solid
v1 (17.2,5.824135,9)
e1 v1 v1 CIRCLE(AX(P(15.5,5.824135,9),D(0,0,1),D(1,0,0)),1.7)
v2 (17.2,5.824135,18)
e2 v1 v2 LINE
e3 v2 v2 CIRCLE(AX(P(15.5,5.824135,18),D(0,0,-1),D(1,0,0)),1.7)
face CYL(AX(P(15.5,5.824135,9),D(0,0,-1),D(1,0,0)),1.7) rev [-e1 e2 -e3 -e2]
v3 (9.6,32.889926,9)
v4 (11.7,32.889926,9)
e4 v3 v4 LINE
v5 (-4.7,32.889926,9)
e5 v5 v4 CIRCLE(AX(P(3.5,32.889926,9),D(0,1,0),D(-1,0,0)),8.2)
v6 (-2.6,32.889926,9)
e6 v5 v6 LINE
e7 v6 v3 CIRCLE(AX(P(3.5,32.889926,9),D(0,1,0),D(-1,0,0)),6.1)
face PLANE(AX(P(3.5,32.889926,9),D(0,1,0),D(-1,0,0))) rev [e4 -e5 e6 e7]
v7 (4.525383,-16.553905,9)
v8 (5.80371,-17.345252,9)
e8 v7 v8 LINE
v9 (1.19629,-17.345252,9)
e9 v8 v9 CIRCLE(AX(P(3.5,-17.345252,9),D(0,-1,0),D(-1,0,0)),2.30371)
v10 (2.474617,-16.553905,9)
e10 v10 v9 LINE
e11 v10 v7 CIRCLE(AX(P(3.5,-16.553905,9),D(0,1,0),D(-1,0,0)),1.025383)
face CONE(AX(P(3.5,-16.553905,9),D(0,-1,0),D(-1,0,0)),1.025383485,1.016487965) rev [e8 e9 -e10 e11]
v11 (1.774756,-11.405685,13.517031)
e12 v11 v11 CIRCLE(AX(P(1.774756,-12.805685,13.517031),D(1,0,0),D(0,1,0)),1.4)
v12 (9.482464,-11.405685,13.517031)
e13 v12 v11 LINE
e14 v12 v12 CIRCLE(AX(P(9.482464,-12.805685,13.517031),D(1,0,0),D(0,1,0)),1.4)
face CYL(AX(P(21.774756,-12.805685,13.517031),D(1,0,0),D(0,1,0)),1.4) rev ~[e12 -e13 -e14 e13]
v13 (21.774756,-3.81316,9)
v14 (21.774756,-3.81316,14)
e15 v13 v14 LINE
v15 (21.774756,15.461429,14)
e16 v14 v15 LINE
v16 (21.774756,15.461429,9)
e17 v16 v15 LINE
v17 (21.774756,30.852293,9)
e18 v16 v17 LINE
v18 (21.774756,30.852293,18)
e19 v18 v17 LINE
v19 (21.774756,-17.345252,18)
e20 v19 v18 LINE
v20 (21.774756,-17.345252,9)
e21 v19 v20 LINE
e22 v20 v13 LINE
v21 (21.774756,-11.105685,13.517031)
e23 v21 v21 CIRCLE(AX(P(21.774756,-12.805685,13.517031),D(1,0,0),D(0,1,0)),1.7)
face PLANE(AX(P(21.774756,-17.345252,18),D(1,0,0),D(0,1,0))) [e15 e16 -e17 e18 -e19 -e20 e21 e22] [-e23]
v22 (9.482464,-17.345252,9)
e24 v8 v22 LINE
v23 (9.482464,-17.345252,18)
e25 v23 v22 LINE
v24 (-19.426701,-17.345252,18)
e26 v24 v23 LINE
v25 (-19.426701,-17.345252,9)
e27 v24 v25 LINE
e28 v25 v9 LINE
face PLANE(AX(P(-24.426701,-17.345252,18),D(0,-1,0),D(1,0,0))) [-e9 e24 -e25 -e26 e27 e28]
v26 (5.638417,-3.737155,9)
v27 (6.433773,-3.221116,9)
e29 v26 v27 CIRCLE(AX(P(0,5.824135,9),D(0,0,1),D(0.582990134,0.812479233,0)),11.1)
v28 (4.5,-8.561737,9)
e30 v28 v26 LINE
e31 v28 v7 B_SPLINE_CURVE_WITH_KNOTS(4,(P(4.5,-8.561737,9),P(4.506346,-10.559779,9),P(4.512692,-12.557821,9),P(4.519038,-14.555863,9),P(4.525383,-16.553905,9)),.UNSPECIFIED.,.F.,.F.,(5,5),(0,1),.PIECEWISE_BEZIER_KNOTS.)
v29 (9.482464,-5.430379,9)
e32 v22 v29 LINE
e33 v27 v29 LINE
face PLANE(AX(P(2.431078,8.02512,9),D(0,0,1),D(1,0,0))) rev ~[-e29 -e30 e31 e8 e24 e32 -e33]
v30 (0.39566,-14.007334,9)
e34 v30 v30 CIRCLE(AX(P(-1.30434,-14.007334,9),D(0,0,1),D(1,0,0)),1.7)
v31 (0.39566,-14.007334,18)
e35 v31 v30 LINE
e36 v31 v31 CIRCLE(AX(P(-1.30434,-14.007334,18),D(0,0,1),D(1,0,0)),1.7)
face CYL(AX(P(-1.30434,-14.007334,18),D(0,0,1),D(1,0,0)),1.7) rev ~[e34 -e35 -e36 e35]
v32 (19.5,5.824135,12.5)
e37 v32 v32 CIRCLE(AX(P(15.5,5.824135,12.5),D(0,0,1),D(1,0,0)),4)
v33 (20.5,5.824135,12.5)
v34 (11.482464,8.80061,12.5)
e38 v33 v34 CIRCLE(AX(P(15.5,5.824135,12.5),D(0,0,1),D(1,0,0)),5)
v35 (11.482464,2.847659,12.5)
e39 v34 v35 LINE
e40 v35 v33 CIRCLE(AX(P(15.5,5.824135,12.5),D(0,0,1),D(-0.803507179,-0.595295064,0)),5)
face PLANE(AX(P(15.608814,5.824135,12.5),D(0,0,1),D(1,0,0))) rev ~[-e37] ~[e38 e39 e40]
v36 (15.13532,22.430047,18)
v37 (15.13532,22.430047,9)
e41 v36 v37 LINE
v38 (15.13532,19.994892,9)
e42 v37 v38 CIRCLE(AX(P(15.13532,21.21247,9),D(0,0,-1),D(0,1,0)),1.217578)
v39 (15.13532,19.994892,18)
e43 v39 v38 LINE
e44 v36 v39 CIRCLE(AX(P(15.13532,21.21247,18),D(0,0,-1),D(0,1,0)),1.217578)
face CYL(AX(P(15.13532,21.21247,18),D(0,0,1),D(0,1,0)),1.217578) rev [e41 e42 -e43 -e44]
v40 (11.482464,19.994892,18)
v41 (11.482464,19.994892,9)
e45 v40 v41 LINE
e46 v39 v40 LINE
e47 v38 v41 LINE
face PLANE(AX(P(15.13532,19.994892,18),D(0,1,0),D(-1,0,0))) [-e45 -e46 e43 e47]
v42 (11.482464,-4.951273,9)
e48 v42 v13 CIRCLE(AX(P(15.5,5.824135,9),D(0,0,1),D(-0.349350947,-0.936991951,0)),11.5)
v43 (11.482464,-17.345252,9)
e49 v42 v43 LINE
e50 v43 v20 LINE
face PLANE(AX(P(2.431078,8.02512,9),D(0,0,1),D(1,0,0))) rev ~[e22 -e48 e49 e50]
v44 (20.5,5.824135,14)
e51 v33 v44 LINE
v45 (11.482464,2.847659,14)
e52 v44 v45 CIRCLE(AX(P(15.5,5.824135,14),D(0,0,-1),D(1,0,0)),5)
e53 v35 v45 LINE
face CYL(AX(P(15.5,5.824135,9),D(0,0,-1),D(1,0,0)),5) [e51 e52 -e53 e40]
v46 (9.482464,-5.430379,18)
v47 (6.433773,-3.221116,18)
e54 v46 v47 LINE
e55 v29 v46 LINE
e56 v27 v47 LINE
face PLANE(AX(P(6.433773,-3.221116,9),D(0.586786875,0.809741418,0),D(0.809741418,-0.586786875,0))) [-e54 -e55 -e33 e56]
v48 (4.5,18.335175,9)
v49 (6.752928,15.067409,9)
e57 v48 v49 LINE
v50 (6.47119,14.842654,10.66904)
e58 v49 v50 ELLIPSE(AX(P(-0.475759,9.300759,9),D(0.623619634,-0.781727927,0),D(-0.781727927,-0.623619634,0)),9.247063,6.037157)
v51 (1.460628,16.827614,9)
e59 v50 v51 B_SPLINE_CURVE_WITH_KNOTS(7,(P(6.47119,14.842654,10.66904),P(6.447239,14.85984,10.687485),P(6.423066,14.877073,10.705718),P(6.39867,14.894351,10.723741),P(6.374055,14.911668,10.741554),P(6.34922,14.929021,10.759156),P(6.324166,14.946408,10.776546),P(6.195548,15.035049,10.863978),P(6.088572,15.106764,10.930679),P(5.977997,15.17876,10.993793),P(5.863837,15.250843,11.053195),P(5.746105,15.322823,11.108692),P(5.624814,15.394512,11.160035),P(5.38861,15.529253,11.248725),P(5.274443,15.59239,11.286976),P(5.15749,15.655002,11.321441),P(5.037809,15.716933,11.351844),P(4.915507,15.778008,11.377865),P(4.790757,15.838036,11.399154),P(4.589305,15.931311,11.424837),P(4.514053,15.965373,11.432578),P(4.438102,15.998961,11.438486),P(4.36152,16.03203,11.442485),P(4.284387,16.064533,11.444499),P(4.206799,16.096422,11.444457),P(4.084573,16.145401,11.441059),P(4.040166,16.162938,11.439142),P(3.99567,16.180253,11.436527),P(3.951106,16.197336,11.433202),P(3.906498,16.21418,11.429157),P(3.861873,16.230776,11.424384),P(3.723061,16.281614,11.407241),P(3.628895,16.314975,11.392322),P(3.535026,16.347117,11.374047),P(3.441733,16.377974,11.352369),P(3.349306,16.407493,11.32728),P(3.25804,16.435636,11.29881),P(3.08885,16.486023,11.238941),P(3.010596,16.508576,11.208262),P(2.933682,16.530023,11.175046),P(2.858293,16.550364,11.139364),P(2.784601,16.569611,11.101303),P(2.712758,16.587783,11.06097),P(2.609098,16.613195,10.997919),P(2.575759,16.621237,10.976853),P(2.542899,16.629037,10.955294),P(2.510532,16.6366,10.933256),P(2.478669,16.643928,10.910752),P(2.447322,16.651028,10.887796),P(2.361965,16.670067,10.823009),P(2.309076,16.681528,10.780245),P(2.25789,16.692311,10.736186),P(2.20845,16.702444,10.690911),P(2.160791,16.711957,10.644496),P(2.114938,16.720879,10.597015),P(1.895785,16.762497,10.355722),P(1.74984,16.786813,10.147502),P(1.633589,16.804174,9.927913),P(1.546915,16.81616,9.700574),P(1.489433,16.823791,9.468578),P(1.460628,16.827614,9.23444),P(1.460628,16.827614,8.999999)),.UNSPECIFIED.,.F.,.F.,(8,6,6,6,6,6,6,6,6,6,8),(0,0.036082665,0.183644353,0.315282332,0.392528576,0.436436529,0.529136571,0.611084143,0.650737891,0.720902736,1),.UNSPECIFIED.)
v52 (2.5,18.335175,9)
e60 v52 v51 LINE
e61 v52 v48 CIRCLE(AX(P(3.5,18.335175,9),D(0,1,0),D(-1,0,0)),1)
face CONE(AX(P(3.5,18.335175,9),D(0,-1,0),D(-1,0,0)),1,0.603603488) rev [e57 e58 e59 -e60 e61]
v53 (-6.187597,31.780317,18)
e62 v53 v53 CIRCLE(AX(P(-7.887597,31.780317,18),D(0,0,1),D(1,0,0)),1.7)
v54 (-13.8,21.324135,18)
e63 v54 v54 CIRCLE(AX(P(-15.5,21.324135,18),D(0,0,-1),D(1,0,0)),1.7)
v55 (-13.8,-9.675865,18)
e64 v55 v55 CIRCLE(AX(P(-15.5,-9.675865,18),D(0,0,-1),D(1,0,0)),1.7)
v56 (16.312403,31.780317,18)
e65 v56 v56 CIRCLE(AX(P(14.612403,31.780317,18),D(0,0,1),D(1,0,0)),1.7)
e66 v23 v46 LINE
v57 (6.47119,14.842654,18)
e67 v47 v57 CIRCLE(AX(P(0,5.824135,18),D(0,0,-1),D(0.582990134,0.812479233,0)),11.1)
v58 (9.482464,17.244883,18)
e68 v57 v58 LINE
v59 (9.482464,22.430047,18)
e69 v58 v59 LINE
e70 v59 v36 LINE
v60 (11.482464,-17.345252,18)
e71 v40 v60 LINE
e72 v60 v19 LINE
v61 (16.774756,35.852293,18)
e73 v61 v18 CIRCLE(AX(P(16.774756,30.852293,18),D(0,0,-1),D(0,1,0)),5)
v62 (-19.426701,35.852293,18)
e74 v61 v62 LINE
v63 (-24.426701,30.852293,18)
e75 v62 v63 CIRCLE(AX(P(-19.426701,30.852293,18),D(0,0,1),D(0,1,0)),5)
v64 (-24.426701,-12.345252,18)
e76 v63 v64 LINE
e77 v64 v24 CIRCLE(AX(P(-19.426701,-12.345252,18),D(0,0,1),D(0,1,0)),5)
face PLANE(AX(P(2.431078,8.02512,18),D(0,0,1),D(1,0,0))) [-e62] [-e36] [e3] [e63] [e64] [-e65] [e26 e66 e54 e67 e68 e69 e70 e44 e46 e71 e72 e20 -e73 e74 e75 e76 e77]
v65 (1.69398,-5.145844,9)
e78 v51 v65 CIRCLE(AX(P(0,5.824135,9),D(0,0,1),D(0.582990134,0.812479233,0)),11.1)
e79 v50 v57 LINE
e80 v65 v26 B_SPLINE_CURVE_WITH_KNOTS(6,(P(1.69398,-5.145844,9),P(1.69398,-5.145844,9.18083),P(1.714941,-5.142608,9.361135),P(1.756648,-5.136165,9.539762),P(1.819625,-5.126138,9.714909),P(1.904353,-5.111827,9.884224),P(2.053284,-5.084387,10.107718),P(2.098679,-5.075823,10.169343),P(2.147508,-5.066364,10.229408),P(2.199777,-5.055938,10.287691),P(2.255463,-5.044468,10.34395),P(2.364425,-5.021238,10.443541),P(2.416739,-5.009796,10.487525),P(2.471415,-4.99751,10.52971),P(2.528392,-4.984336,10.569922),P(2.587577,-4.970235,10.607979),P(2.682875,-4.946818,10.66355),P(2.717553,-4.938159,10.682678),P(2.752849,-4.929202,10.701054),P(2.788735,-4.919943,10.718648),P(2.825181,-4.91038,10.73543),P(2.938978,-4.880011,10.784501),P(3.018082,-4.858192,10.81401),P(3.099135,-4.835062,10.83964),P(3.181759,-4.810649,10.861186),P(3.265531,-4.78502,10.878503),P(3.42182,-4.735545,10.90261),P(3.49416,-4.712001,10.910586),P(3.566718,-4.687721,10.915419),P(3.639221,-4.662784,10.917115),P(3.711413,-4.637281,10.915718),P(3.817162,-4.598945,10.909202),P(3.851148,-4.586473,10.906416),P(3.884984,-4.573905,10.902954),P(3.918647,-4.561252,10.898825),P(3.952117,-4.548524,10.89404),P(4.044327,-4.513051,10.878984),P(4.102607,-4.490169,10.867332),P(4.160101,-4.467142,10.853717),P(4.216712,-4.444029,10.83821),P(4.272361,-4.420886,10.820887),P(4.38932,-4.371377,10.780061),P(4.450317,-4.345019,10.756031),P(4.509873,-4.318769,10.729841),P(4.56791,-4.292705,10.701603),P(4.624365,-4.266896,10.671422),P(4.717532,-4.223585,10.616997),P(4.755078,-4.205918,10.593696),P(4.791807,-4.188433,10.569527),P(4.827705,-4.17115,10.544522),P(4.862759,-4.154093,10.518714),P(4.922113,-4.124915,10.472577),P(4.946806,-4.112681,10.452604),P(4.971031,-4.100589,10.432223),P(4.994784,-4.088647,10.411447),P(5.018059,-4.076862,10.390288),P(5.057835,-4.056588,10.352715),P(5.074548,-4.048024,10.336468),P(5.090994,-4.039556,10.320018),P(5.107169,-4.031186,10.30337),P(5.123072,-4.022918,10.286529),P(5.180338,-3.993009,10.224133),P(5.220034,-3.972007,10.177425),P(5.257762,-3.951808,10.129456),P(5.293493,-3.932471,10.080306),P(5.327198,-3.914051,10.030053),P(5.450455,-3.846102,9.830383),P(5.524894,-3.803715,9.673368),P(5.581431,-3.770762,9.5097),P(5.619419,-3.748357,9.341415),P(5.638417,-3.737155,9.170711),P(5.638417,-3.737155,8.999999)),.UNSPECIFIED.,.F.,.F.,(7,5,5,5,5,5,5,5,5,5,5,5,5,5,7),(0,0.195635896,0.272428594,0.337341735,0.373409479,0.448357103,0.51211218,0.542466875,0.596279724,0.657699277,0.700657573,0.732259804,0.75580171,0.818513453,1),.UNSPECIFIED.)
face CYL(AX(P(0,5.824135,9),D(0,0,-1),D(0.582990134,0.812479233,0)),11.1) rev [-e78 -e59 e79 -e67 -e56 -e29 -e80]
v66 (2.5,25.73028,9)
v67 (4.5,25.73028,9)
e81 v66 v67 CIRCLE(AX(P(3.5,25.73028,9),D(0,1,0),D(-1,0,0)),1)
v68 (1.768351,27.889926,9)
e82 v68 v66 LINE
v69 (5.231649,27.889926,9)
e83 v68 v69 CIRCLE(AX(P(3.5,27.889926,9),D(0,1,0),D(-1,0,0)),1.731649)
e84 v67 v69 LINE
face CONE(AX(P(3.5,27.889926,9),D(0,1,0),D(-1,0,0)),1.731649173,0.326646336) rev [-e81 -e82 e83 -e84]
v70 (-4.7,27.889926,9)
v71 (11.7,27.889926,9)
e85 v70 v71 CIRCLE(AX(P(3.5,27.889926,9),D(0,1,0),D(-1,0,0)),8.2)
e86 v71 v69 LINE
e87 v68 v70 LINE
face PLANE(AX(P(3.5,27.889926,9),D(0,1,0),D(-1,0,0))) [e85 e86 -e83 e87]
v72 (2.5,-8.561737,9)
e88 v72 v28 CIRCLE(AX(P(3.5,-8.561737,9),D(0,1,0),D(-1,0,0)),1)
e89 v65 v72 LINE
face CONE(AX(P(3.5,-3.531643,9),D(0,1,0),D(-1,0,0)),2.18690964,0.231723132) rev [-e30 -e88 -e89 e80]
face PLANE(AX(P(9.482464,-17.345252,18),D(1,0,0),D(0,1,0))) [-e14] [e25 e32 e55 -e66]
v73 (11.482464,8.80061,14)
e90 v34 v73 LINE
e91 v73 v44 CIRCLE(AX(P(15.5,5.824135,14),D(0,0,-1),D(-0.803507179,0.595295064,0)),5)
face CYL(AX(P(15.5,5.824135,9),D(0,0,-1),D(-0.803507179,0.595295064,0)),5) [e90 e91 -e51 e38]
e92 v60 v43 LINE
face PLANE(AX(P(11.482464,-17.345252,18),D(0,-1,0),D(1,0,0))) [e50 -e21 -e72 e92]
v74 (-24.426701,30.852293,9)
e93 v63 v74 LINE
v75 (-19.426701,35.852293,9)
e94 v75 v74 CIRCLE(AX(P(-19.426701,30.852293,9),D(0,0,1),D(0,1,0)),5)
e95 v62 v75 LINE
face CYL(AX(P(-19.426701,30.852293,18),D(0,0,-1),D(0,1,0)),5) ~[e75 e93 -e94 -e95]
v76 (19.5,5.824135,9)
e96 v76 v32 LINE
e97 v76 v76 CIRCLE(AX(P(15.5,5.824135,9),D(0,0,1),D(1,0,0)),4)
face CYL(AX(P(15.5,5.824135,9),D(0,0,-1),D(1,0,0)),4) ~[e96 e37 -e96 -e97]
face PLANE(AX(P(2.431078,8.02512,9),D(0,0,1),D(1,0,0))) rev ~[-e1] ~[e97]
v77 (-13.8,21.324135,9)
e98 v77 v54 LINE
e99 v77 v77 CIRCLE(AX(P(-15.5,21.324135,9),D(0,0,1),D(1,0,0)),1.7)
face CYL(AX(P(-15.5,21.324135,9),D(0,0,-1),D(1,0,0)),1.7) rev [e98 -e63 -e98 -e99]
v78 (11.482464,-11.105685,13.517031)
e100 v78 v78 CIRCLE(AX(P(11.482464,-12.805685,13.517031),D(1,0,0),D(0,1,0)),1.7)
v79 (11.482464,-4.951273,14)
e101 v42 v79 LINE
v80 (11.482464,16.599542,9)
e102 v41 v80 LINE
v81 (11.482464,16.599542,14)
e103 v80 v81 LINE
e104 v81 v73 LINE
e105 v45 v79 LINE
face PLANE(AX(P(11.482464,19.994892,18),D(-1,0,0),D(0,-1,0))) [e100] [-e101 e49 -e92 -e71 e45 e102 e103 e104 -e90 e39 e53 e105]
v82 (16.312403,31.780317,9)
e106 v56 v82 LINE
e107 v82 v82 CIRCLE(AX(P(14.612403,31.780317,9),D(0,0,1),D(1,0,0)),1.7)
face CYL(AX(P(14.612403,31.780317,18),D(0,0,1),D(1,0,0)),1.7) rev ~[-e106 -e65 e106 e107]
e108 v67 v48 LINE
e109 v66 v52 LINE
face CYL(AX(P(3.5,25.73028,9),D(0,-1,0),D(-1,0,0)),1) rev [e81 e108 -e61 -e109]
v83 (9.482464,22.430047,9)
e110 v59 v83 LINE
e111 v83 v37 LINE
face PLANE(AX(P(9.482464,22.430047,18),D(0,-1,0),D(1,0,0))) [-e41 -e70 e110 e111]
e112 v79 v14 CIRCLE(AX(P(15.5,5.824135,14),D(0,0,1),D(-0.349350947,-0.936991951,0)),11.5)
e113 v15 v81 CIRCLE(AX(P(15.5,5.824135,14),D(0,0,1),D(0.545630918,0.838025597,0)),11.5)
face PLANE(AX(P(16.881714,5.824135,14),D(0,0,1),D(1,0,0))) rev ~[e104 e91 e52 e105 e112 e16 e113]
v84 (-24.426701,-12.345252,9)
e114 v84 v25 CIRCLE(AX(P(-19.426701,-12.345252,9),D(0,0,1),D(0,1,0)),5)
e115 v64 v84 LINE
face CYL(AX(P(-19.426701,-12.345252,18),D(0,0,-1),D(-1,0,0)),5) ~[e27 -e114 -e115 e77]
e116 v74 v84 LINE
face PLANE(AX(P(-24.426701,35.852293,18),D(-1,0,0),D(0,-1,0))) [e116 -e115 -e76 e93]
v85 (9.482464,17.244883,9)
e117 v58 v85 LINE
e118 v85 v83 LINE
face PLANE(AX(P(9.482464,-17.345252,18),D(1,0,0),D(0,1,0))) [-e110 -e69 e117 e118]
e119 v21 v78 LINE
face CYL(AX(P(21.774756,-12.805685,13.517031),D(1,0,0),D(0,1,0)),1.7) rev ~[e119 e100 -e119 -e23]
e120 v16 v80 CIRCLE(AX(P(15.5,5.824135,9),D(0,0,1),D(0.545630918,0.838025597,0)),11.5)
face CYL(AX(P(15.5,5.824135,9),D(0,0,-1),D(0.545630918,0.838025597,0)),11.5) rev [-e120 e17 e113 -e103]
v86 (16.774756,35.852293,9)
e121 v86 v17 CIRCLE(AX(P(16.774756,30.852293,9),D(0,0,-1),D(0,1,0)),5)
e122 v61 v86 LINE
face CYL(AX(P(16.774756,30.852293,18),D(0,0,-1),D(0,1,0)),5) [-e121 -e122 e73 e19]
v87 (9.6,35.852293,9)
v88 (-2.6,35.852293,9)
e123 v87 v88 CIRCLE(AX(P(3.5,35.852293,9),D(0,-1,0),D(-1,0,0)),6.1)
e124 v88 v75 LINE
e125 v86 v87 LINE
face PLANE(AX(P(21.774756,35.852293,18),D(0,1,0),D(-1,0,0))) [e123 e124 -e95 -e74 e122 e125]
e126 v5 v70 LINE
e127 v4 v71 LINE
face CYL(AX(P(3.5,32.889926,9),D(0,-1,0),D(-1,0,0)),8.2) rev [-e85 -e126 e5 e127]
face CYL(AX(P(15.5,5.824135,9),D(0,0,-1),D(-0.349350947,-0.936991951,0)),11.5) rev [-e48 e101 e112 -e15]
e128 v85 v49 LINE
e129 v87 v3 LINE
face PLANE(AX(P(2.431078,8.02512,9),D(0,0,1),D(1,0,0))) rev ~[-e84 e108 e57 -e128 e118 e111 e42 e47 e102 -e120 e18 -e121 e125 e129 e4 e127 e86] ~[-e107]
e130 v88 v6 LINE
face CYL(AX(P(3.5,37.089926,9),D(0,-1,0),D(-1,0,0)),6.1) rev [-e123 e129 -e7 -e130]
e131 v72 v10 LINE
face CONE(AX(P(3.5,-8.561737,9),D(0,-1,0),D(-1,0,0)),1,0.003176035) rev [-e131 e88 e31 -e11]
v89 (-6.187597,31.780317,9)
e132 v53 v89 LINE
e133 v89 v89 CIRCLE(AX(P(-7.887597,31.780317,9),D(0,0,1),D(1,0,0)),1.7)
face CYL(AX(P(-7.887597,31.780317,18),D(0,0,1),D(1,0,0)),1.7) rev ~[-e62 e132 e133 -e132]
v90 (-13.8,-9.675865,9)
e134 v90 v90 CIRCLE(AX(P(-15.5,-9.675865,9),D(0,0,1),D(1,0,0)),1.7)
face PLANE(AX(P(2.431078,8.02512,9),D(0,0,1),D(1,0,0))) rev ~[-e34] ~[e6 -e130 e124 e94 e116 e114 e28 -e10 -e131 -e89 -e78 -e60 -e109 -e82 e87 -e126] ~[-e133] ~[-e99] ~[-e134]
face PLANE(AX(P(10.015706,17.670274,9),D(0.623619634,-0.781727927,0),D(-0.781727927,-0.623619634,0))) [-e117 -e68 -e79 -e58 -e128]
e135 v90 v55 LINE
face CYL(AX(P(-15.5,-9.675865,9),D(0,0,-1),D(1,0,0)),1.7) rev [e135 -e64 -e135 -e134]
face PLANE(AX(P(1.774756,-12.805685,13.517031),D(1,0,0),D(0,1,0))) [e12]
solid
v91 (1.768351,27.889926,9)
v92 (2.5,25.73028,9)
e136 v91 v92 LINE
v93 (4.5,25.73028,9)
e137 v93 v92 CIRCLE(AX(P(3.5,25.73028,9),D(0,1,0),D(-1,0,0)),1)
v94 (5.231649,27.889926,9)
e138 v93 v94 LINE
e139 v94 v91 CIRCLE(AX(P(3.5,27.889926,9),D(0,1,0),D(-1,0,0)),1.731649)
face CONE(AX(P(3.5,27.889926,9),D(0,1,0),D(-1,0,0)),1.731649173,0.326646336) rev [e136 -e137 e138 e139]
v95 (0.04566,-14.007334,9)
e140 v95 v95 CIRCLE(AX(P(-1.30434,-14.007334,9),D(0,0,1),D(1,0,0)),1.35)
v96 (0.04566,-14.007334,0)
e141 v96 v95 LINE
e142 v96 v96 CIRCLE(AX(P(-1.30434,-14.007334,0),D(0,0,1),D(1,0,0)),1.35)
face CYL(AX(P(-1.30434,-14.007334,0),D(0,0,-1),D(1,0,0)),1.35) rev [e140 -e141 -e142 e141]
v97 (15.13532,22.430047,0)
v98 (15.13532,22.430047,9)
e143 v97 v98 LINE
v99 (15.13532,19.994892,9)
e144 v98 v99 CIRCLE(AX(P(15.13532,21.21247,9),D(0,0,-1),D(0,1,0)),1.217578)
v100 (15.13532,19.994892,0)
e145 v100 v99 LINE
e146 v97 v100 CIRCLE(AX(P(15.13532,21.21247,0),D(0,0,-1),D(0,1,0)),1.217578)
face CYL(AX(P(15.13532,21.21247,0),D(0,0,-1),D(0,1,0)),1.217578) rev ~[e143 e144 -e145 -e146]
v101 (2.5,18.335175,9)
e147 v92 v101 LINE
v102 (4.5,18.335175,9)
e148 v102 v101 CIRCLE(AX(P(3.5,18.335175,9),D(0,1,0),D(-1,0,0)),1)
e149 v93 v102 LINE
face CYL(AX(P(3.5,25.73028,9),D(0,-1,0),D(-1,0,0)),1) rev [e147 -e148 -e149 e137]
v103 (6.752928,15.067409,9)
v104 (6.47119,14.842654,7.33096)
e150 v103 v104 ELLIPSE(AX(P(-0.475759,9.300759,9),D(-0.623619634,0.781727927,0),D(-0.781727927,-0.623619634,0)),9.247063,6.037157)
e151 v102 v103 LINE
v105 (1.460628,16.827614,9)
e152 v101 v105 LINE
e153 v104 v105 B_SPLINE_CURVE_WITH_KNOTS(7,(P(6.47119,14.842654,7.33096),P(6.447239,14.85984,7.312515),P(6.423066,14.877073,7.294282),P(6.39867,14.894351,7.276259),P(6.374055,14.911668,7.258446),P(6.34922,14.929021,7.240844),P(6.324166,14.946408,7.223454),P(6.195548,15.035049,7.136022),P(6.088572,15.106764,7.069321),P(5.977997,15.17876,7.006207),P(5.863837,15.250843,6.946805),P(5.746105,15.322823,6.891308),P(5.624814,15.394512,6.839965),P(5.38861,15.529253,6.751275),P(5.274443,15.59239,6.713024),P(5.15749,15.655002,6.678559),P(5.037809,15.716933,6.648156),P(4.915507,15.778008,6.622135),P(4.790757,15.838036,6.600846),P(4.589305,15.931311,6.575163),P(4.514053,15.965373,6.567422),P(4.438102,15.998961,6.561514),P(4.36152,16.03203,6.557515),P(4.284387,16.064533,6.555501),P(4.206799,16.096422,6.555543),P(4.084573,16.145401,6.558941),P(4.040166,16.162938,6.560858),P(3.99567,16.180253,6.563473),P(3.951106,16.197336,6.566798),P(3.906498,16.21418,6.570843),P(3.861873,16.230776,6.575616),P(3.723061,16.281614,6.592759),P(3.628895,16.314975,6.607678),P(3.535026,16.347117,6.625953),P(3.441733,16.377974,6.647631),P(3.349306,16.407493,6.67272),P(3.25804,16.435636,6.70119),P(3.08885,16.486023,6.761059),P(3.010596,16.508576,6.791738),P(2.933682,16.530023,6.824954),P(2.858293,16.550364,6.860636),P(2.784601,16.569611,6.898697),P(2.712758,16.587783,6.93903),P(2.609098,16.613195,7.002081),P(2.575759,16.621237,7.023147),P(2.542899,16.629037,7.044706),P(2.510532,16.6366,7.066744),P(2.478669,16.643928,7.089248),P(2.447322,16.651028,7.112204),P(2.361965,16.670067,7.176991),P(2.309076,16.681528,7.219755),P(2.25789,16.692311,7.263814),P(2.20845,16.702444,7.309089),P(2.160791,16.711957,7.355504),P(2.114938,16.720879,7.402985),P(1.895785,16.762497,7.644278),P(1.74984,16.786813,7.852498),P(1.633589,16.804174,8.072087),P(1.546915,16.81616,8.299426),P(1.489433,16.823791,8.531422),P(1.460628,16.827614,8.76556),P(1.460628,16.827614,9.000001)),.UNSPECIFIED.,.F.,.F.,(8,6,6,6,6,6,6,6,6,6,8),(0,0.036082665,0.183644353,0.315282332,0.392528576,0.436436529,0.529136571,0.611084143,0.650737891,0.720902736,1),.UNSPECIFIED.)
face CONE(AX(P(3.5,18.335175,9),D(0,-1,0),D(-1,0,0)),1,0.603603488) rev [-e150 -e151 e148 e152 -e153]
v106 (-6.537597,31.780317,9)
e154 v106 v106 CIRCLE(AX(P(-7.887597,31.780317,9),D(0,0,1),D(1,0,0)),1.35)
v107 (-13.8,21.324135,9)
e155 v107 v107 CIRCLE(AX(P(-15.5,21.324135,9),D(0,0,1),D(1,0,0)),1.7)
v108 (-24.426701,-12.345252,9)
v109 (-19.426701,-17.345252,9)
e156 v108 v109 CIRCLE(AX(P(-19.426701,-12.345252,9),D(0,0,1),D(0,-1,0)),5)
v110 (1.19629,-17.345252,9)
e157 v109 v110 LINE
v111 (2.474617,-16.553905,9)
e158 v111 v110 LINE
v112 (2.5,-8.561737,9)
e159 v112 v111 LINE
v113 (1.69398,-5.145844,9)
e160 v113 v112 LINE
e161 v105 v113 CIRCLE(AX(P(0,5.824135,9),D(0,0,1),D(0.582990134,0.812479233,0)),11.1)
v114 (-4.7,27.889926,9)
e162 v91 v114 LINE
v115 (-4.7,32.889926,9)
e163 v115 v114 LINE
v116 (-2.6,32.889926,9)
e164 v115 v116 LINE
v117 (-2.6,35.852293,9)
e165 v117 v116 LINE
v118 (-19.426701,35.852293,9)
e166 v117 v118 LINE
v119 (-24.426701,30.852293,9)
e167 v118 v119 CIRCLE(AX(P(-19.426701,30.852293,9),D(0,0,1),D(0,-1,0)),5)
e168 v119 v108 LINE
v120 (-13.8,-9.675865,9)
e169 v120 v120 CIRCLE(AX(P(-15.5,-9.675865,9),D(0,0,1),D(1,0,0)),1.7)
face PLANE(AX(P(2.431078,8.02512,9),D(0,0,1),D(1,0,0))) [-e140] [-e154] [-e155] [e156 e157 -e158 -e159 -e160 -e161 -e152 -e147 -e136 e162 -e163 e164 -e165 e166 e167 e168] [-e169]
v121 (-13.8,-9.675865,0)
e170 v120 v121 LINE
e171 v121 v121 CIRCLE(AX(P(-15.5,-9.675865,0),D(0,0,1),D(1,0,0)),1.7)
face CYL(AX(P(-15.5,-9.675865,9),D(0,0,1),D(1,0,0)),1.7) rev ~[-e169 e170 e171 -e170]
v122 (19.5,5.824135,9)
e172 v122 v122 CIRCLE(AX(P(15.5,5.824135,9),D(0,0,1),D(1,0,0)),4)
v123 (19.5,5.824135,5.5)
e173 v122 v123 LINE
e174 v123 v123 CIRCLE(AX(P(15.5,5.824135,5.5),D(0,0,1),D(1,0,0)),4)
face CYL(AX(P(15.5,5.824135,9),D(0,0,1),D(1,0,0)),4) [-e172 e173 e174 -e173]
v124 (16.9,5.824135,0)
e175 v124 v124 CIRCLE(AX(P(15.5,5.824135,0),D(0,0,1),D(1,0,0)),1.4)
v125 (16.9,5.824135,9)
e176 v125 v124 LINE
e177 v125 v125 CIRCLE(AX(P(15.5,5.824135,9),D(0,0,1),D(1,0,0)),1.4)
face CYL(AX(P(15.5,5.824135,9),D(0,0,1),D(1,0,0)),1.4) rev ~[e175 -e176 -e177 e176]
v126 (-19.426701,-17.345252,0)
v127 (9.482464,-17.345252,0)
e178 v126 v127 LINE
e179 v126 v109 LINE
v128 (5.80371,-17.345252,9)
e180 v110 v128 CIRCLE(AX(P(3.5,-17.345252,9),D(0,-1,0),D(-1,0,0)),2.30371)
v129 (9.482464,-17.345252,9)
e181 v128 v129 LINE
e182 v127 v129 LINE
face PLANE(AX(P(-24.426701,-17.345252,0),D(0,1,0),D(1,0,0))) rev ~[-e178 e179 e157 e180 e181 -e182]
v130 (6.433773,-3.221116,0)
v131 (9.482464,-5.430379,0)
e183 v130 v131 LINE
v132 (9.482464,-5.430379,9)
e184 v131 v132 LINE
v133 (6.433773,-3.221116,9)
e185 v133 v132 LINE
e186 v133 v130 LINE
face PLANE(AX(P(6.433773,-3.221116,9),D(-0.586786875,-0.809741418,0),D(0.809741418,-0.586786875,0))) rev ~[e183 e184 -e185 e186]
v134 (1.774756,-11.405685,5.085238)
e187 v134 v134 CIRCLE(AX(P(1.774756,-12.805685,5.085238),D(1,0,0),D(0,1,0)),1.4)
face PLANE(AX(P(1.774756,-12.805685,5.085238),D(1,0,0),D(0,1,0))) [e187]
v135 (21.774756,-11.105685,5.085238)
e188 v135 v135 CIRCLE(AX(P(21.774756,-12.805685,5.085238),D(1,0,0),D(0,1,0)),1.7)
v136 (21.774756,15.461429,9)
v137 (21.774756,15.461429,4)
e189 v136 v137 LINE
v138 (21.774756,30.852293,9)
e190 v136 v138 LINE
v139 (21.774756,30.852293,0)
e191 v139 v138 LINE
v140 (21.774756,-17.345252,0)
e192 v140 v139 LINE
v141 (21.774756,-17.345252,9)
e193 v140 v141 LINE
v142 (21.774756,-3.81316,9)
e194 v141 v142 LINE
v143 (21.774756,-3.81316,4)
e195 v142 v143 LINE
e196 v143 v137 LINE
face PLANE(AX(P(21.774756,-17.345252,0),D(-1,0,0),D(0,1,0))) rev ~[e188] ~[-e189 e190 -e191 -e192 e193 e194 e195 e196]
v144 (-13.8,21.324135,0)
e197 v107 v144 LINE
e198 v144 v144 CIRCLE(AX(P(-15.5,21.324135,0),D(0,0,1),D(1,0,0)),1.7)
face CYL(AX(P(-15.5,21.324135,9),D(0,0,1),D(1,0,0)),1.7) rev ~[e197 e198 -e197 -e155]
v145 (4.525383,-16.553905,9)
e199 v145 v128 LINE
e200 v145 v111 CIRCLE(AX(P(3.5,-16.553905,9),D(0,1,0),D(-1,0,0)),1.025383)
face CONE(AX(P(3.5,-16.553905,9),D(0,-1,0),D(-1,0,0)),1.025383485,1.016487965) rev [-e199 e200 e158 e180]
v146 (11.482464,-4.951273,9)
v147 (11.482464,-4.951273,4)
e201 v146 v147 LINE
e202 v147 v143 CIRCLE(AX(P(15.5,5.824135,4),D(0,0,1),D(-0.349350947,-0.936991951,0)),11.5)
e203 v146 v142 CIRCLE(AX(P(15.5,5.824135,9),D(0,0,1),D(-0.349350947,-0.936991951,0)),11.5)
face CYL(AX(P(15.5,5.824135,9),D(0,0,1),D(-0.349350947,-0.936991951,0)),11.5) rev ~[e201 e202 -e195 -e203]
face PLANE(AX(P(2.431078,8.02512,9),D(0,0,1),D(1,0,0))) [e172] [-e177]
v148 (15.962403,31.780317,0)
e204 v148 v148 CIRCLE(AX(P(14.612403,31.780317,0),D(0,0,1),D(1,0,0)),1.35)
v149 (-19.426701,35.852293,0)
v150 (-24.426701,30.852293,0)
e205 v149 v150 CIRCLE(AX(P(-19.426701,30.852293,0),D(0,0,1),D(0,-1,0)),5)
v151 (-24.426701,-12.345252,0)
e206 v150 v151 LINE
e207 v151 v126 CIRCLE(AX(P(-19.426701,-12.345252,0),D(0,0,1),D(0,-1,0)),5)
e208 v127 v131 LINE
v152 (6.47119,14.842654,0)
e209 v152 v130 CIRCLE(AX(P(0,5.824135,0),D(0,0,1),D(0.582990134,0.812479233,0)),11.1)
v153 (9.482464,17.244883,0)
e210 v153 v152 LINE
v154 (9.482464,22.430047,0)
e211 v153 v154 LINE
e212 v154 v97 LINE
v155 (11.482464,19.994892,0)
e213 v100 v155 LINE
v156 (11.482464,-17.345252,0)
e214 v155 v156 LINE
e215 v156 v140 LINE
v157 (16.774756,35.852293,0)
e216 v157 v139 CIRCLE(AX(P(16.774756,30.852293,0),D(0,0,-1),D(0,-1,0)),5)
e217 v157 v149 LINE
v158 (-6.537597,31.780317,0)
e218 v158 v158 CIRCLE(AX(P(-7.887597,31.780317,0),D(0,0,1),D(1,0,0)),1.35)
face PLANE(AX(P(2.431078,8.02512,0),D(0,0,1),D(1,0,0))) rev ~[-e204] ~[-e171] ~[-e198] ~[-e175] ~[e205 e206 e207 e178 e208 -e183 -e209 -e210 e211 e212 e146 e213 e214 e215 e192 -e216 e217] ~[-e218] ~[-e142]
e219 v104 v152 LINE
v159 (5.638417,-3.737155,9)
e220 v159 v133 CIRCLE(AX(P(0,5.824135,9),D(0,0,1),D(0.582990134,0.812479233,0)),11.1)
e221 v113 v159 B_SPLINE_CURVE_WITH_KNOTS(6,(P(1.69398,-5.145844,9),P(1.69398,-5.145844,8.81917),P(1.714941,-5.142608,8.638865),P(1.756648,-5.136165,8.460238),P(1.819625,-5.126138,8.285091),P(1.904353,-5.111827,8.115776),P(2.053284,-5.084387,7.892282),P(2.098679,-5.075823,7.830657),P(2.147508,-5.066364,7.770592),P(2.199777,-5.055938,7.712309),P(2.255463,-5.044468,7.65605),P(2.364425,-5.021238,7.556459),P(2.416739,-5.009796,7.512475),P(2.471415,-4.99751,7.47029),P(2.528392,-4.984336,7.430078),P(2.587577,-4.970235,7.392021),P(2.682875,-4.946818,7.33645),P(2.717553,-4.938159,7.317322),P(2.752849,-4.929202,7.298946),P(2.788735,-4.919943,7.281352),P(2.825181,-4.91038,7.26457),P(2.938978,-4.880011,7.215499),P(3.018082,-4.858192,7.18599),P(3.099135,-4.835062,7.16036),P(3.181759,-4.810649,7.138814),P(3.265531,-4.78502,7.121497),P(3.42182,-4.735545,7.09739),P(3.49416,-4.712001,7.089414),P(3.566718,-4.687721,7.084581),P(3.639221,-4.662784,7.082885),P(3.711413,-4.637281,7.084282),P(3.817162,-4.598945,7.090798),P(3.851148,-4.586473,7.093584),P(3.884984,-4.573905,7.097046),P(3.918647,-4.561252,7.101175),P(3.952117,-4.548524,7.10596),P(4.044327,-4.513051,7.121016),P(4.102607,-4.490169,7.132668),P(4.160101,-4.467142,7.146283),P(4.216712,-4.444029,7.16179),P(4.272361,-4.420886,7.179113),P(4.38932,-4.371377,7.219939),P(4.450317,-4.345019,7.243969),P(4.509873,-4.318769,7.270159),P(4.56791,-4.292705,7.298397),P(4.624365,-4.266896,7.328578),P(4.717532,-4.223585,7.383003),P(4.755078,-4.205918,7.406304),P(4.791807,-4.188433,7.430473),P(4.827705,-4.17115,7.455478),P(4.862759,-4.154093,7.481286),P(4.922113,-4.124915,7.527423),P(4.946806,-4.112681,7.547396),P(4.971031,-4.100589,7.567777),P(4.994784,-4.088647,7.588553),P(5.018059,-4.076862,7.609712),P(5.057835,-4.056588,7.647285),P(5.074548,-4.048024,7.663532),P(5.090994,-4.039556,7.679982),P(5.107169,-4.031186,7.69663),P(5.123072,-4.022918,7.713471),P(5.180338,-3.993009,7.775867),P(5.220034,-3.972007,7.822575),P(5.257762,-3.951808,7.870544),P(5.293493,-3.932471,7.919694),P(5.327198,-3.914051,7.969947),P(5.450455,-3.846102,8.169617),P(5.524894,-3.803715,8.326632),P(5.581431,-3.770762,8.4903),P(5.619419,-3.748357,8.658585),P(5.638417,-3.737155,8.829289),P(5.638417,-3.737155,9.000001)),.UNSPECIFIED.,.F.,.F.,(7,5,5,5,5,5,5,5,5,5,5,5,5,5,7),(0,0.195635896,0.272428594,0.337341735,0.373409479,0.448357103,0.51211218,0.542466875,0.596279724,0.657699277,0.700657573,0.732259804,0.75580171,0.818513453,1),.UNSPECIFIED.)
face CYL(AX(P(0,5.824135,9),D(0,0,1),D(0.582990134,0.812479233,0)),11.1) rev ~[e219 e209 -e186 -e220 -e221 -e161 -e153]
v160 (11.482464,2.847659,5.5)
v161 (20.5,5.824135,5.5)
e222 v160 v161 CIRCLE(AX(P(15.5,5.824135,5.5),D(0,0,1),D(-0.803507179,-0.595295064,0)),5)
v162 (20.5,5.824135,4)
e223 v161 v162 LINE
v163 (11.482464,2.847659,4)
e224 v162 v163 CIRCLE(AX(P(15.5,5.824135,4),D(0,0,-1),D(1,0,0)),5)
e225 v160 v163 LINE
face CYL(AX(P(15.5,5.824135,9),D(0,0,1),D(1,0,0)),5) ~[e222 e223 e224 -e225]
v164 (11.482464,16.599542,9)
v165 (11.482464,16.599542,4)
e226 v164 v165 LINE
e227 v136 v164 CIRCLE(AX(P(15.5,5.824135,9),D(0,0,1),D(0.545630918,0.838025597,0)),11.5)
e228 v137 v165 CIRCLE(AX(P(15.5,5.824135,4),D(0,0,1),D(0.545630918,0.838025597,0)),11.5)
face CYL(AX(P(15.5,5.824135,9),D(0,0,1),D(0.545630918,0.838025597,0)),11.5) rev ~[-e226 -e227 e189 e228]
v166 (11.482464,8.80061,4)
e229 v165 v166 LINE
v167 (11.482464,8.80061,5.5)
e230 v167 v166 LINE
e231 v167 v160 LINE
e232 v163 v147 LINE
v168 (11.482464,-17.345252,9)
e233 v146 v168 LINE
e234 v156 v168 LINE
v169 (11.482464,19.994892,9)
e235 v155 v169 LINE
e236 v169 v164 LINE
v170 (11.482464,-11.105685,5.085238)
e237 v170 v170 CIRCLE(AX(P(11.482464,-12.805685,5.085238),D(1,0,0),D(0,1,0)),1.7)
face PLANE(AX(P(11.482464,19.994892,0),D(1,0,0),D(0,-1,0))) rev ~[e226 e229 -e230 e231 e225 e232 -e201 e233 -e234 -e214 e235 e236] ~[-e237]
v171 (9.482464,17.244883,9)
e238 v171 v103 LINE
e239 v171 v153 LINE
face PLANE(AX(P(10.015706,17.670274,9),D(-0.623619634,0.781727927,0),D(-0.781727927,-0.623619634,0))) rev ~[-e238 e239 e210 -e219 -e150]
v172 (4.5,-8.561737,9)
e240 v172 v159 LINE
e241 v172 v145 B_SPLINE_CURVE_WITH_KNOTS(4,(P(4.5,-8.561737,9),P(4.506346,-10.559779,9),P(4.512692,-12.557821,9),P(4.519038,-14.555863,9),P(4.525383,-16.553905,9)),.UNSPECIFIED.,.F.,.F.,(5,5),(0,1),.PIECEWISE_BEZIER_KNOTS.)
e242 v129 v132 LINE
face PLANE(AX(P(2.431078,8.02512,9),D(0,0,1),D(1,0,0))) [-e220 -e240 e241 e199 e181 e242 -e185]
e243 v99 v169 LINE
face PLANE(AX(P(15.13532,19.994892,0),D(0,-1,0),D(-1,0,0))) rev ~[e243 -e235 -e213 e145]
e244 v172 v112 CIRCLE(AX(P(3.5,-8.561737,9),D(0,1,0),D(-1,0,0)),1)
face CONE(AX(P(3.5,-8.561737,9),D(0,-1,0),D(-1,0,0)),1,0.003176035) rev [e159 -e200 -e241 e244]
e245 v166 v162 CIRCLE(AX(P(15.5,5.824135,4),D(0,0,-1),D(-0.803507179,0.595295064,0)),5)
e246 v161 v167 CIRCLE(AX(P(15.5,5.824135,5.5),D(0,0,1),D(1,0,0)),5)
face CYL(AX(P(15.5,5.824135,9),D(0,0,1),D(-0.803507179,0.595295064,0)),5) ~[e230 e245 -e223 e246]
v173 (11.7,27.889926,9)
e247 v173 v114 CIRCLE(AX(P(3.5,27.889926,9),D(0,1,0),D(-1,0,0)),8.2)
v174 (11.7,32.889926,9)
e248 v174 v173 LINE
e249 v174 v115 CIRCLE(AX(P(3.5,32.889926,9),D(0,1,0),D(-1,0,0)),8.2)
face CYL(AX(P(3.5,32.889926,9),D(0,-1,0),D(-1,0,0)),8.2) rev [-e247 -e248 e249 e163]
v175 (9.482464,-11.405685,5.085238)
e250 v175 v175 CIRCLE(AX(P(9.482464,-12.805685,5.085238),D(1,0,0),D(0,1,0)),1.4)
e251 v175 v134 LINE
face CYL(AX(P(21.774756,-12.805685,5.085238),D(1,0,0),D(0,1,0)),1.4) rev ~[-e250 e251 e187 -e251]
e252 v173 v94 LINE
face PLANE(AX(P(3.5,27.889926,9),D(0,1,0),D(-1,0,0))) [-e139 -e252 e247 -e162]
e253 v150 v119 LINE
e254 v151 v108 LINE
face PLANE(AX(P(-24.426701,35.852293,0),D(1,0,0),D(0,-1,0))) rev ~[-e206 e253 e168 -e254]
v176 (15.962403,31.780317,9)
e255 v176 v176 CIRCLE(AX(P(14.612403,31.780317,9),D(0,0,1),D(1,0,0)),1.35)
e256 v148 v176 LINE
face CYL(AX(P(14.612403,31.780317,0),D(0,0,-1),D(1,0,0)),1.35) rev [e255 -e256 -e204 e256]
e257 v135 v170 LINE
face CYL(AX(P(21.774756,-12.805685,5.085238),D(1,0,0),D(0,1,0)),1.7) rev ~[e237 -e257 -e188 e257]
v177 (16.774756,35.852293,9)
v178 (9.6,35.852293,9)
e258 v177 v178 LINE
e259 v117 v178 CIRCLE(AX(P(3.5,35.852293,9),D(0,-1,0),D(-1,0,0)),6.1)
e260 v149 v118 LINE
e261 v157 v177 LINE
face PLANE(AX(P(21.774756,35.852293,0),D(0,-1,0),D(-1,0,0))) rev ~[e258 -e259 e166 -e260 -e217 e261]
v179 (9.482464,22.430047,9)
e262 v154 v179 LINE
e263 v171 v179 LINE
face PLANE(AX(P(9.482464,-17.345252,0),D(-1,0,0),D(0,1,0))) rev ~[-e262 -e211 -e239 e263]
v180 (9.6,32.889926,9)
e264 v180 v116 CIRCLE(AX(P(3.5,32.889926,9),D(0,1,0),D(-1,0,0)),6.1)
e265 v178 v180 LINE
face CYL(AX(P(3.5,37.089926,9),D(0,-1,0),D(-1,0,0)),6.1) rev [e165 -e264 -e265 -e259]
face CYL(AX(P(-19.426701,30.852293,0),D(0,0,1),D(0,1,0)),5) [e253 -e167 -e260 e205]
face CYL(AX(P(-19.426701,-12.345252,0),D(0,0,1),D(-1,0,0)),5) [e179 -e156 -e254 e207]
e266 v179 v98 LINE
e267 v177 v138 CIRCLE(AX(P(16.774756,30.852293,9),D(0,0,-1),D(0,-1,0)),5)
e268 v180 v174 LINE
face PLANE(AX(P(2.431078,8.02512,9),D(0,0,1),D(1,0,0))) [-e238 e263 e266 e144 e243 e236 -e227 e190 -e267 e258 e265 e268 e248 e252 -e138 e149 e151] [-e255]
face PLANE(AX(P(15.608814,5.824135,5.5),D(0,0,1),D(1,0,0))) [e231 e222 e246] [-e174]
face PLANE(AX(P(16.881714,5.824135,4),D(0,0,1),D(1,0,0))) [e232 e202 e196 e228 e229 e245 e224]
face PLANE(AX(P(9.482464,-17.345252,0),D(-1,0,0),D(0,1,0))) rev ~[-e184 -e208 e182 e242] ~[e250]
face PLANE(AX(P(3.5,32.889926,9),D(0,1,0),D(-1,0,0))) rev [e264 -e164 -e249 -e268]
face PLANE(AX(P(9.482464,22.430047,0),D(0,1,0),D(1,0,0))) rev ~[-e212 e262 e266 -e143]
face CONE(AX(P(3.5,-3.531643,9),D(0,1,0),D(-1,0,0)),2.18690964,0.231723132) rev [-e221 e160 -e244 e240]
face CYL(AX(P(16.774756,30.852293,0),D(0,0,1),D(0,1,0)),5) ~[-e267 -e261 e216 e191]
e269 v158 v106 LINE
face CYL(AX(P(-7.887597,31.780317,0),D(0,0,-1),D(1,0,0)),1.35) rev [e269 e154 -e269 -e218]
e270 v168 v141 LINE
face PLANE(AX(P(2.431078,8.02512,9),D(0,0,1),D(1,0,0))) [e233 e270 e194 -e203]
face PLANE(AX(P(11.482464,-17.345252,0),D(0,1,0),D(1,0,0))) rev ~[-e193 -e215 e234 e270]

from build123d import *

# Parameters (mm, degrees)
F0_R      = 1.7
F0_R_2    = 1.35
F1_DEPTH  = 9
F2_R      = 1.7
F3_DEPTH  = 9.001
F5_DEPTH  = 5
F4_R      = 4
F6_DEPTH  = 3.5
F11_DEPTH = 9
F13_DEPTH = 9.001
F14_DEPTH = 5
F15_DEPTH = 3.5
F18_R     = 1.4
F19_DEPTH = 20
F18_R_2   = 1.7
F20_DEPTH = 11
F21_DEPTH = 20
F22_DEPTH = 11
F4_R_2    = 1.4
F23_DEPTH = 9.0010001
F4_R_3    = 1.7
F24_DEPTH = 9.0010001
F25_R     = 5
F25_2_R   = 5


with BuildPart() as f1:
    # F0 (on Top) → F1 (new body)
    with BuildSketch(Plane.XY):
        with BuildLine():
            Line((21.7747555523, 35.8522933333), (-24.4267012457, 35.8522933333))
            Line((-24.4267012457, 35.8522933333), (-24.4267012457, -17.3452516382))
            Line((-24.4267012457, -17.3452516382), (9.4824641046, -17.3452516382))
            Line((9.4824641046, -17.3452516382), (9.4824641046, 22.4300473309))
            Line((9.4824641046, 22.4300473309), (15.1353199035, 22.4300473309))
            ThreePointArc((15.1353199035, 22.4300473309), (16.352897448, 21.2124697864), (15.1353199035, 19.9948922419))
            Line((15.1353199035, 19.9948922419), (11.4824641046, 19.9948922419))
            Line((11.4824641046, 19.9948922419), (11.4824641046, -17.3452516382))
            Line((11.4824641046, -17.3452516382), (21.7747555523, -17.3452516382))
            Line((21.7747555523, -17.3452516382), (21.7747555523, 35.8522933333))
        make_face()
        with Locations((-1.3043400832, -14.0073336661)):
            Circle(F0_R, mode=Mode.SUBTRACT)
        with Locations((-7.8875971958, 31.7803174257)):
            Circle(F0_R, mode=Mode.SUBTRACT)
        with Locations((14.6124028042, 31.7803174257)):
            Circle(F0_R, mode=Mode.SUBTRACT)
        with Locations((-7.8875971958, 31.7803174257)):
            Circle(F0_R)
        with Locations((-7.8875971958, 31.7803174257)):
            Circle(F0_R_2, mode=Mode.SUBTRACT)
        with Locations((14.6124028042, 31.7803174257)):
            Circle(F0_R)
        with Locations((14.6124028042, 31.7803174257)):
            Circle(F0_R_2, mode=Mode.SUBTRACT)
        with Locations((-1.3043400832, -14.0073336661)):
            Circle(F0_R)
        with Locations((-1.3043400832, -14.0073336661)):
            Circle(F0_R_2, mode=Mode.SUBTRACT)
    extrude(amount=F1_DEPTH)

    # F2 (on face) → F3 (cut, through all)
    with BuildSketch(Plane.XY.offset(9)):
        with BuildLine():
            ThreePointArc((10.1784989238, 1.3960245172), (10.8671831229, 3.5626460221), (11.1, 5.8241346851))
            ThreePointArc((11.1, 5.8241346851), (10.8946392865, 7.949419329), (10.2861558887, 9.9960643384))
            ThreePointArc((10.2861558887, 9.9960643384), (8.7220710068, 12.6896628769), (6.4711904888, 14.8426541677))
            ThreePointArc((6.4711904888, 14.8426541677), (-11.0999761868, 5.8471271395), (6.433773254, -3.2211160973))
            ThreePointArc((6.433773254, -3.2211160973), (8.6209856508, -1.1679041026), (10.1784989238, 1.3960245172))
        make_face()
        with BuildLine():
            ThreePointArc((6.4711904888, 14.8426541677), (8.7220710068, 12.6896628769), (10.2861558887, 9.9960643384))
            Line((10.2861558887, 9.9960643384), (10.0157056004, 17.6702737808))
            Line((10.0157056004, 17.6702737808), (6.4711904888, 14.8426541677))
        make_face()
        with BuildLine():
            Line((10.1784989238, -5.9347674251), (10.1784989238, 1.3960245172))
            ThreePointArc((10.1784989238, 1.3960245172), (8.6209856508, -1.1679041026), (6.433773254, -3.2211160973))
            Line((6.433773254, -3.2211160973), (10.1784989238, -5.9347674251))
        make_face()
        with Locations((-15.5, 21.3241346851)):
            Circle(F2_R)
        with Locations((-15.5, -9.6758653149)):
            Circle(F2_R)
    extrude(amount=-F3_DEPTH, mode=Mode.SUBTRACT)

    # F4 (on face) → F5 (cut)
    with BuildSketch(Plane.XY.offset(9)):
        with BuildLine():
            Line((21.7747555523, -3.8131596841), (21.7747555523, 15.4614290543))
            ThreePointArc((21.7747555523, 15.4614290543), (16.7639562813, 17.2544633995), (11.4824641046, 16.5995421173))
            Line((11.4824641046, 16.5995421173), (11.4824641046, 8.8006100049))
            ThreePointArc((11.4824641046, 8.8006100049), (17.0672141722, 10.5721700407), (20.5, 5.8241346851))
            ThreePointArc((20.5, 5.8241346851), (17.0672141722, 1.0760993295), (11.4824641046, 2.8476593653))
            Line((11.4824641046, 2.8476593653), (11.4824641046, -4.9512727471))
            ThreePointArc((11.4824641046, -4.9512727471), (16.7639562813, -5.6061940293), (21.7747555523, -3.8131596841))
        make_face()
    extrude(amount=-F5_DEPTH, mode=Mode.SUBTRACT)

    # F4 (on face) → F6 (cut)
    with BuildSketch(Plane.XY.offset(9)):
        with BuildLine():
            ThreePointArc((20.5, 5.8241346851), (17.0672141722, 10.5721700407), (11.4824641046, 8.8006100049))
            Line((11.4824641046, 8.8006100049), (11.4824641046, 2.8476593653))
            ThreePointArc((11.4824641046, 2.8476593653), (17.0672141722, 1.0760993295), (20.5, 5.8241346851))
        make_face()
        with Locations((15.5, 5.8241346851)):
            Circle(F4_R, mode=Mode.SUBTRACT)
    extrude(amount=-F6_DEPTH, mode=Mode.SUBTRACT)


with BuildPart() as f8:
    # F7 (on face) → F8 (revolve)
    with BuildSketch(Plane.XY.offset(9)):
        Polygon((0, 14.7090433165), (3.5, 14.7090433165), (3.5, 37.0899259865), (-2.6, 37.0899259865), (-2.6, 32.8899259865), (-4.7, 32.8899259865), (-4.7, 27.8899259865), (1.7683508271, 27.8899259865), (2.5, 25.7302802056), (2.5, 18.3351747692), align=None)
    revolve(axis=Axis((3.5, 25.8994846515, 9), (0, 1, 0)))


with BuildPart() as f8b:
    # F7 (on face) → F8, piece 2 (revolve)
    with BuildSketch(Plane.XY.offset(9)):
        Polygon((2.4746165145, -16.5539048612), (1.0664474685, -17.4256302416), (0.98, -25.4416566163), (3.5, -25.4416566163), (3.5, -3.0607739463), (1.3130903599, -3.5316427894), (2.5, -8.5617373008), align=None)
    revolve(axis=Axis((3.5, 25.8994846515, 9), (0, 1, 0)))


with BuildPart() as f1_1:
    add(f1.part)

    # F9: cut F8
    add(f8.part, mode=Mode.SUBTRACT)

    # F10: cut F8b
    add(f8b.part, mode=Mode.SUBTRACT)

    # F18 (on face) → F21 (cut)
    with BuildSketch(Plane.YZ.offset(21.7747555523)):
        with Locations((-12.805685401, 5.0852382556)):
            Circle(F18_R)
    extrude(amount=-F21_DEPTH, mode=Mode.SUBTRACT)

    # F18 (on face) → F22 (cut)
    with BuildSketch(Plane.YZ.offset(21.7747555523)):
        with Locations((-12.805685401, 5.0852382556)):
            Circle(F18_R_2)
        with Locations((-12.805685401, 5.0852382556)):
            Circle(F18_R, mode=Mode.SUBTRACT)
    extrude(amount=-F22_DEPTH, mode=Mode.SUBTRACT)

    # F4 (on face) → F23 (cut, through all)
    with BuildSketch(Plane.XY.offset(9)):
        with Locations((15.5, 5.8241346851)):
            Circle(F4_R_2)
    extrude(amount=-F23_DEPTH, mode=Mode.SUBTRACT)

    # F25#2
    f25_2_edges = [f1_1.edges().sort_by_distance(p)[0] for p in [
        (21.774756, 35.852293, 4.5),
        (-24.426701, 35.852293, 4.5),
        (-24.426701, -17.345252, 4.5),
    ]]
    fillet(f25_2_edges, radius=F25_2_R)


with BuildPart() as f11:
    # F0 (on Top) → F11 (new body)
    with BuildSketch(Plane.XY):
        with BuildLine():
            Line((21.7747555523, 35.8522933333), (-24.4267012457, 35.8522933333))
            Line((-24.4267012457, 35.8522933333), (-24.4267012457, -17.3452516382))
            Line((-24.4267012457, -17.3452516382), (9.4824641046, -17.3452516382))
            Line((9.4824641046, -17.3452516382), (9.4824641046, 22.4300473309))
            Line((9.4824641046, 22.4300473309), (15.1353199035, 22.4300473309))
            ThreePointArc((15.1353199035, 22.4300473309), (16.352897448, 21.2124697864), (15.1353199035, 19.9948922419))
            Line((15.1353199035, 19.9948922419), (11.4824641046, 19.9948922419))
            Line((11.4824641046, 19.9948922419), (11.4824641046, -17.3452516382))
            Line((11.4824641046, -17.3452516382), (21.7747555523, -17.3452516382))
            Line((21.7747555523, -17.3452516382), (21.7747555523, 35.8522933333))
        make_face()
        with Locations((-1.3043400832, -14.0073336661)):
            Circle(F0_R, mode=Mode.SUBTRACT)
        with Locations((-7.8875971958, 31.7803174257)):
            Circle(F0_R, mode=Mode.SUBTRACT)
        with Locations((14.6124028042, 31.7803174257)):
            Circle(F0_R, mode=Mode.SUBTRACT)
    extrude(amount=-F11_DEPTH)


with BuildPart() as f11_1:
    # F12: moved
    add(f11.part.moved(Location((0, 0, 18))))


with BuildPart() as f13_tool:
    # F2 (on face) → F13 (new body, through all)
    with BuildSketch(Plane.XY.offset(9)):
        with BuildLine():
            ThreePointArc((10.1784989238, 1.3960245172), (10.8671831229, 3.5626460221), (11.1, 5.8241346851))
            ThreePointArc((11.1, 5.8241346851), (10.8946392865, 7.949419329), (10.2861558887, 9.9960643384))
            ThreePointArc((10.2861558887, 9.9960643384), (8.7220710068, 12.6896628769), (6.4711904888, 14.8426541677))
            ThreePointArc((6.4711904888, 14.8426541677), (-11.0999761868, 5.8471271395), (6.433773254, -3.2211160973))
            ThreePointArc((6.433773254, -3.2211160973), (8.6209856508, -1.1679041026), (10.1784989238, 1.3960245172))
        make_face()
        with BuildLine():
            ThreePointArc((6.4711904888, 14.8426541677), (8.7220710068, 12.6896628769), (10.2861558887, 9.9960643384))
            Line((10.2861558887, 9.9960643384), (10.0157056004, 17.6702737808))
            Line((10.0157056004, 17.6702737808), (6.4711904888, 14.8426541677))
        make_face()
        with BuildLine():
            Line((10.1784989238, -5.9347674251), (10.1784989238, 1.3960245172))
            ThreePointArc((10.1784989238, 1.3960245172), (8.6209856508, -1.1679041026), (6.433773254, -3.2211160973))
            Line((6.433773254, -3.2211160973), (10.1784989238, -5.9347674251))
        make_face()
        with Locations((-15.5, 21.3241346851)):
            Circle(F2_R)
        with Locations((-15.5, -9.6758653149)):
            Circle(F2_R)
    extrude(amount=F13_DEPTH)


with BuildPart() as f8_1:
    add(f8.part)

    # F13: cut by f13_tool
    add(f13_tool.part, mode=Mode.SUBTRACT)


with BuildPart() as f8b_1:
    add(f8b.part)

    # F13: cut by f13_tool
    add(f13_tool.part, mode=Mode.SUBTRACT)


with BuildPart() as f11_2:
    add(f11_1.part)

    # F13: cut by f13_tool
    add(f13_tool.part, mode=Mode.SUBTRACT)

    # F4 (on face) → F14 (cut)
    with BuildSketch(Plane.XY.offset(9)):
        with BuildLine():
            Line((21.7747555523, -3.8131596841), (21.7747555523, 15.4614290543))
            ThreePointArc((21.7747555523, 15.4614290543), (16.7639562813, 17.2544633995), (11.4824641046, 16.5995421173))
            Line((11.4824641046, 16.5995421173), (11.4824641046, 8.8006100049))
            ThreePointArc((11.4824641046, 8.8006100049), (17.0672141722, 10.5721700407), (20.5, 5.8241346851))
            ThreePointArc((20.5, 5.8241346851), (17.0672141722, 1.0760993295), (11.4824641046, 2.8476593653))
            Line((11.4824641046, 2.8476593653), (11.4824641046, -4.9512727471))
            ThreePointArc((11.4824641046, -4.9512727471), (16.7639562813, -5.6061940293), (21.7747555523, -3.8131596841))
        make_face()
    extrude(amount=F14_DEPTH, mode=Mode.SUBTRACT)

    # F4 (on face) → F15 (cut)
    with BuildSketch(Plane.XY.offset(9)):
        with BuildLine():
            ThreePointArc((20.5, 5.8241346851), (17.0672141722, 10.5721700407), (11.4824641046, 8.8006100049))
            Line((11.4824641046, 8.8006100049), (11.4824641046, 2.8476593653))
            ThreePointArc((11.4824641046, 2.8476593653), (17.0672141722, 1.0760993295), (20.5, 5.8241346851))
        make_face()
        with Locations((15.5, 5.8241346851)):
            Circle(F4_R, mode=Mode.SUBTRACT)
    extrude(amount=F15_DEPTH, mode=Mode.SUBTRACT)

    # F16: cut F8
    add(f8_1.part, mode=Mode.SUBTRACT)

    # F17: cut F8b
    add(f8b_1.part, mode=Mode.SUBTRACT)

    # F18 (on face) → F19 (cut)
    with BuildSketch(Plane.YZ.offset(21.7747555523)):
        with Locations((-12.805685401, 13.5170314461)):
            Circle(F18_R)
    extrude(amount=-F19_DEPTH, mode=Mode.SUBTRACT)

    # F18 (on face) → F20 (cut)
    with BuildSketch(Plane.YZ.offset(21.7747555523)):
        with Locations((-12.805685401, 13.5170314461)):
            Circle(F18_R_2)
        with Locations((-12.805685401, 13.5170314461)):
            Circle(F18_R, mode=Mode.SUBTRACT)
    extrude(amount=-F20_DEPTH, mode=Mode.SUBTRACT)

    # F4 (on face) → F24 (cut, through all)
    with BuildSketch(Plane.XY.offset(9)):
        with Locations((15.5, 5.8241346851)):
            Circle(F4_R_3)
        with Locations((15.5, 5.8241346851)):
            Circle(F4_R_2, mode=Mode.SUBTRACT)
        with Locations((15.5, 5.8241346851)):
            Circle(F4_R_2)
    extrude(amount=F24_DEPTH, mode=Mode.SUBTRACT)

    # F25
    f25_edges = [f11_2.edges().sort_by_distance(p)[0] for p in [
        (21.774756, 35.852293, 13.5),
        (-24.426701, 35.852293, 13.5),
        (-24.426701, -17.345252, 13.5),
    ]]
    fillet(f25_edges, radius=F25_R)


solid = Compound([f1_1.part, f11_2.part])
